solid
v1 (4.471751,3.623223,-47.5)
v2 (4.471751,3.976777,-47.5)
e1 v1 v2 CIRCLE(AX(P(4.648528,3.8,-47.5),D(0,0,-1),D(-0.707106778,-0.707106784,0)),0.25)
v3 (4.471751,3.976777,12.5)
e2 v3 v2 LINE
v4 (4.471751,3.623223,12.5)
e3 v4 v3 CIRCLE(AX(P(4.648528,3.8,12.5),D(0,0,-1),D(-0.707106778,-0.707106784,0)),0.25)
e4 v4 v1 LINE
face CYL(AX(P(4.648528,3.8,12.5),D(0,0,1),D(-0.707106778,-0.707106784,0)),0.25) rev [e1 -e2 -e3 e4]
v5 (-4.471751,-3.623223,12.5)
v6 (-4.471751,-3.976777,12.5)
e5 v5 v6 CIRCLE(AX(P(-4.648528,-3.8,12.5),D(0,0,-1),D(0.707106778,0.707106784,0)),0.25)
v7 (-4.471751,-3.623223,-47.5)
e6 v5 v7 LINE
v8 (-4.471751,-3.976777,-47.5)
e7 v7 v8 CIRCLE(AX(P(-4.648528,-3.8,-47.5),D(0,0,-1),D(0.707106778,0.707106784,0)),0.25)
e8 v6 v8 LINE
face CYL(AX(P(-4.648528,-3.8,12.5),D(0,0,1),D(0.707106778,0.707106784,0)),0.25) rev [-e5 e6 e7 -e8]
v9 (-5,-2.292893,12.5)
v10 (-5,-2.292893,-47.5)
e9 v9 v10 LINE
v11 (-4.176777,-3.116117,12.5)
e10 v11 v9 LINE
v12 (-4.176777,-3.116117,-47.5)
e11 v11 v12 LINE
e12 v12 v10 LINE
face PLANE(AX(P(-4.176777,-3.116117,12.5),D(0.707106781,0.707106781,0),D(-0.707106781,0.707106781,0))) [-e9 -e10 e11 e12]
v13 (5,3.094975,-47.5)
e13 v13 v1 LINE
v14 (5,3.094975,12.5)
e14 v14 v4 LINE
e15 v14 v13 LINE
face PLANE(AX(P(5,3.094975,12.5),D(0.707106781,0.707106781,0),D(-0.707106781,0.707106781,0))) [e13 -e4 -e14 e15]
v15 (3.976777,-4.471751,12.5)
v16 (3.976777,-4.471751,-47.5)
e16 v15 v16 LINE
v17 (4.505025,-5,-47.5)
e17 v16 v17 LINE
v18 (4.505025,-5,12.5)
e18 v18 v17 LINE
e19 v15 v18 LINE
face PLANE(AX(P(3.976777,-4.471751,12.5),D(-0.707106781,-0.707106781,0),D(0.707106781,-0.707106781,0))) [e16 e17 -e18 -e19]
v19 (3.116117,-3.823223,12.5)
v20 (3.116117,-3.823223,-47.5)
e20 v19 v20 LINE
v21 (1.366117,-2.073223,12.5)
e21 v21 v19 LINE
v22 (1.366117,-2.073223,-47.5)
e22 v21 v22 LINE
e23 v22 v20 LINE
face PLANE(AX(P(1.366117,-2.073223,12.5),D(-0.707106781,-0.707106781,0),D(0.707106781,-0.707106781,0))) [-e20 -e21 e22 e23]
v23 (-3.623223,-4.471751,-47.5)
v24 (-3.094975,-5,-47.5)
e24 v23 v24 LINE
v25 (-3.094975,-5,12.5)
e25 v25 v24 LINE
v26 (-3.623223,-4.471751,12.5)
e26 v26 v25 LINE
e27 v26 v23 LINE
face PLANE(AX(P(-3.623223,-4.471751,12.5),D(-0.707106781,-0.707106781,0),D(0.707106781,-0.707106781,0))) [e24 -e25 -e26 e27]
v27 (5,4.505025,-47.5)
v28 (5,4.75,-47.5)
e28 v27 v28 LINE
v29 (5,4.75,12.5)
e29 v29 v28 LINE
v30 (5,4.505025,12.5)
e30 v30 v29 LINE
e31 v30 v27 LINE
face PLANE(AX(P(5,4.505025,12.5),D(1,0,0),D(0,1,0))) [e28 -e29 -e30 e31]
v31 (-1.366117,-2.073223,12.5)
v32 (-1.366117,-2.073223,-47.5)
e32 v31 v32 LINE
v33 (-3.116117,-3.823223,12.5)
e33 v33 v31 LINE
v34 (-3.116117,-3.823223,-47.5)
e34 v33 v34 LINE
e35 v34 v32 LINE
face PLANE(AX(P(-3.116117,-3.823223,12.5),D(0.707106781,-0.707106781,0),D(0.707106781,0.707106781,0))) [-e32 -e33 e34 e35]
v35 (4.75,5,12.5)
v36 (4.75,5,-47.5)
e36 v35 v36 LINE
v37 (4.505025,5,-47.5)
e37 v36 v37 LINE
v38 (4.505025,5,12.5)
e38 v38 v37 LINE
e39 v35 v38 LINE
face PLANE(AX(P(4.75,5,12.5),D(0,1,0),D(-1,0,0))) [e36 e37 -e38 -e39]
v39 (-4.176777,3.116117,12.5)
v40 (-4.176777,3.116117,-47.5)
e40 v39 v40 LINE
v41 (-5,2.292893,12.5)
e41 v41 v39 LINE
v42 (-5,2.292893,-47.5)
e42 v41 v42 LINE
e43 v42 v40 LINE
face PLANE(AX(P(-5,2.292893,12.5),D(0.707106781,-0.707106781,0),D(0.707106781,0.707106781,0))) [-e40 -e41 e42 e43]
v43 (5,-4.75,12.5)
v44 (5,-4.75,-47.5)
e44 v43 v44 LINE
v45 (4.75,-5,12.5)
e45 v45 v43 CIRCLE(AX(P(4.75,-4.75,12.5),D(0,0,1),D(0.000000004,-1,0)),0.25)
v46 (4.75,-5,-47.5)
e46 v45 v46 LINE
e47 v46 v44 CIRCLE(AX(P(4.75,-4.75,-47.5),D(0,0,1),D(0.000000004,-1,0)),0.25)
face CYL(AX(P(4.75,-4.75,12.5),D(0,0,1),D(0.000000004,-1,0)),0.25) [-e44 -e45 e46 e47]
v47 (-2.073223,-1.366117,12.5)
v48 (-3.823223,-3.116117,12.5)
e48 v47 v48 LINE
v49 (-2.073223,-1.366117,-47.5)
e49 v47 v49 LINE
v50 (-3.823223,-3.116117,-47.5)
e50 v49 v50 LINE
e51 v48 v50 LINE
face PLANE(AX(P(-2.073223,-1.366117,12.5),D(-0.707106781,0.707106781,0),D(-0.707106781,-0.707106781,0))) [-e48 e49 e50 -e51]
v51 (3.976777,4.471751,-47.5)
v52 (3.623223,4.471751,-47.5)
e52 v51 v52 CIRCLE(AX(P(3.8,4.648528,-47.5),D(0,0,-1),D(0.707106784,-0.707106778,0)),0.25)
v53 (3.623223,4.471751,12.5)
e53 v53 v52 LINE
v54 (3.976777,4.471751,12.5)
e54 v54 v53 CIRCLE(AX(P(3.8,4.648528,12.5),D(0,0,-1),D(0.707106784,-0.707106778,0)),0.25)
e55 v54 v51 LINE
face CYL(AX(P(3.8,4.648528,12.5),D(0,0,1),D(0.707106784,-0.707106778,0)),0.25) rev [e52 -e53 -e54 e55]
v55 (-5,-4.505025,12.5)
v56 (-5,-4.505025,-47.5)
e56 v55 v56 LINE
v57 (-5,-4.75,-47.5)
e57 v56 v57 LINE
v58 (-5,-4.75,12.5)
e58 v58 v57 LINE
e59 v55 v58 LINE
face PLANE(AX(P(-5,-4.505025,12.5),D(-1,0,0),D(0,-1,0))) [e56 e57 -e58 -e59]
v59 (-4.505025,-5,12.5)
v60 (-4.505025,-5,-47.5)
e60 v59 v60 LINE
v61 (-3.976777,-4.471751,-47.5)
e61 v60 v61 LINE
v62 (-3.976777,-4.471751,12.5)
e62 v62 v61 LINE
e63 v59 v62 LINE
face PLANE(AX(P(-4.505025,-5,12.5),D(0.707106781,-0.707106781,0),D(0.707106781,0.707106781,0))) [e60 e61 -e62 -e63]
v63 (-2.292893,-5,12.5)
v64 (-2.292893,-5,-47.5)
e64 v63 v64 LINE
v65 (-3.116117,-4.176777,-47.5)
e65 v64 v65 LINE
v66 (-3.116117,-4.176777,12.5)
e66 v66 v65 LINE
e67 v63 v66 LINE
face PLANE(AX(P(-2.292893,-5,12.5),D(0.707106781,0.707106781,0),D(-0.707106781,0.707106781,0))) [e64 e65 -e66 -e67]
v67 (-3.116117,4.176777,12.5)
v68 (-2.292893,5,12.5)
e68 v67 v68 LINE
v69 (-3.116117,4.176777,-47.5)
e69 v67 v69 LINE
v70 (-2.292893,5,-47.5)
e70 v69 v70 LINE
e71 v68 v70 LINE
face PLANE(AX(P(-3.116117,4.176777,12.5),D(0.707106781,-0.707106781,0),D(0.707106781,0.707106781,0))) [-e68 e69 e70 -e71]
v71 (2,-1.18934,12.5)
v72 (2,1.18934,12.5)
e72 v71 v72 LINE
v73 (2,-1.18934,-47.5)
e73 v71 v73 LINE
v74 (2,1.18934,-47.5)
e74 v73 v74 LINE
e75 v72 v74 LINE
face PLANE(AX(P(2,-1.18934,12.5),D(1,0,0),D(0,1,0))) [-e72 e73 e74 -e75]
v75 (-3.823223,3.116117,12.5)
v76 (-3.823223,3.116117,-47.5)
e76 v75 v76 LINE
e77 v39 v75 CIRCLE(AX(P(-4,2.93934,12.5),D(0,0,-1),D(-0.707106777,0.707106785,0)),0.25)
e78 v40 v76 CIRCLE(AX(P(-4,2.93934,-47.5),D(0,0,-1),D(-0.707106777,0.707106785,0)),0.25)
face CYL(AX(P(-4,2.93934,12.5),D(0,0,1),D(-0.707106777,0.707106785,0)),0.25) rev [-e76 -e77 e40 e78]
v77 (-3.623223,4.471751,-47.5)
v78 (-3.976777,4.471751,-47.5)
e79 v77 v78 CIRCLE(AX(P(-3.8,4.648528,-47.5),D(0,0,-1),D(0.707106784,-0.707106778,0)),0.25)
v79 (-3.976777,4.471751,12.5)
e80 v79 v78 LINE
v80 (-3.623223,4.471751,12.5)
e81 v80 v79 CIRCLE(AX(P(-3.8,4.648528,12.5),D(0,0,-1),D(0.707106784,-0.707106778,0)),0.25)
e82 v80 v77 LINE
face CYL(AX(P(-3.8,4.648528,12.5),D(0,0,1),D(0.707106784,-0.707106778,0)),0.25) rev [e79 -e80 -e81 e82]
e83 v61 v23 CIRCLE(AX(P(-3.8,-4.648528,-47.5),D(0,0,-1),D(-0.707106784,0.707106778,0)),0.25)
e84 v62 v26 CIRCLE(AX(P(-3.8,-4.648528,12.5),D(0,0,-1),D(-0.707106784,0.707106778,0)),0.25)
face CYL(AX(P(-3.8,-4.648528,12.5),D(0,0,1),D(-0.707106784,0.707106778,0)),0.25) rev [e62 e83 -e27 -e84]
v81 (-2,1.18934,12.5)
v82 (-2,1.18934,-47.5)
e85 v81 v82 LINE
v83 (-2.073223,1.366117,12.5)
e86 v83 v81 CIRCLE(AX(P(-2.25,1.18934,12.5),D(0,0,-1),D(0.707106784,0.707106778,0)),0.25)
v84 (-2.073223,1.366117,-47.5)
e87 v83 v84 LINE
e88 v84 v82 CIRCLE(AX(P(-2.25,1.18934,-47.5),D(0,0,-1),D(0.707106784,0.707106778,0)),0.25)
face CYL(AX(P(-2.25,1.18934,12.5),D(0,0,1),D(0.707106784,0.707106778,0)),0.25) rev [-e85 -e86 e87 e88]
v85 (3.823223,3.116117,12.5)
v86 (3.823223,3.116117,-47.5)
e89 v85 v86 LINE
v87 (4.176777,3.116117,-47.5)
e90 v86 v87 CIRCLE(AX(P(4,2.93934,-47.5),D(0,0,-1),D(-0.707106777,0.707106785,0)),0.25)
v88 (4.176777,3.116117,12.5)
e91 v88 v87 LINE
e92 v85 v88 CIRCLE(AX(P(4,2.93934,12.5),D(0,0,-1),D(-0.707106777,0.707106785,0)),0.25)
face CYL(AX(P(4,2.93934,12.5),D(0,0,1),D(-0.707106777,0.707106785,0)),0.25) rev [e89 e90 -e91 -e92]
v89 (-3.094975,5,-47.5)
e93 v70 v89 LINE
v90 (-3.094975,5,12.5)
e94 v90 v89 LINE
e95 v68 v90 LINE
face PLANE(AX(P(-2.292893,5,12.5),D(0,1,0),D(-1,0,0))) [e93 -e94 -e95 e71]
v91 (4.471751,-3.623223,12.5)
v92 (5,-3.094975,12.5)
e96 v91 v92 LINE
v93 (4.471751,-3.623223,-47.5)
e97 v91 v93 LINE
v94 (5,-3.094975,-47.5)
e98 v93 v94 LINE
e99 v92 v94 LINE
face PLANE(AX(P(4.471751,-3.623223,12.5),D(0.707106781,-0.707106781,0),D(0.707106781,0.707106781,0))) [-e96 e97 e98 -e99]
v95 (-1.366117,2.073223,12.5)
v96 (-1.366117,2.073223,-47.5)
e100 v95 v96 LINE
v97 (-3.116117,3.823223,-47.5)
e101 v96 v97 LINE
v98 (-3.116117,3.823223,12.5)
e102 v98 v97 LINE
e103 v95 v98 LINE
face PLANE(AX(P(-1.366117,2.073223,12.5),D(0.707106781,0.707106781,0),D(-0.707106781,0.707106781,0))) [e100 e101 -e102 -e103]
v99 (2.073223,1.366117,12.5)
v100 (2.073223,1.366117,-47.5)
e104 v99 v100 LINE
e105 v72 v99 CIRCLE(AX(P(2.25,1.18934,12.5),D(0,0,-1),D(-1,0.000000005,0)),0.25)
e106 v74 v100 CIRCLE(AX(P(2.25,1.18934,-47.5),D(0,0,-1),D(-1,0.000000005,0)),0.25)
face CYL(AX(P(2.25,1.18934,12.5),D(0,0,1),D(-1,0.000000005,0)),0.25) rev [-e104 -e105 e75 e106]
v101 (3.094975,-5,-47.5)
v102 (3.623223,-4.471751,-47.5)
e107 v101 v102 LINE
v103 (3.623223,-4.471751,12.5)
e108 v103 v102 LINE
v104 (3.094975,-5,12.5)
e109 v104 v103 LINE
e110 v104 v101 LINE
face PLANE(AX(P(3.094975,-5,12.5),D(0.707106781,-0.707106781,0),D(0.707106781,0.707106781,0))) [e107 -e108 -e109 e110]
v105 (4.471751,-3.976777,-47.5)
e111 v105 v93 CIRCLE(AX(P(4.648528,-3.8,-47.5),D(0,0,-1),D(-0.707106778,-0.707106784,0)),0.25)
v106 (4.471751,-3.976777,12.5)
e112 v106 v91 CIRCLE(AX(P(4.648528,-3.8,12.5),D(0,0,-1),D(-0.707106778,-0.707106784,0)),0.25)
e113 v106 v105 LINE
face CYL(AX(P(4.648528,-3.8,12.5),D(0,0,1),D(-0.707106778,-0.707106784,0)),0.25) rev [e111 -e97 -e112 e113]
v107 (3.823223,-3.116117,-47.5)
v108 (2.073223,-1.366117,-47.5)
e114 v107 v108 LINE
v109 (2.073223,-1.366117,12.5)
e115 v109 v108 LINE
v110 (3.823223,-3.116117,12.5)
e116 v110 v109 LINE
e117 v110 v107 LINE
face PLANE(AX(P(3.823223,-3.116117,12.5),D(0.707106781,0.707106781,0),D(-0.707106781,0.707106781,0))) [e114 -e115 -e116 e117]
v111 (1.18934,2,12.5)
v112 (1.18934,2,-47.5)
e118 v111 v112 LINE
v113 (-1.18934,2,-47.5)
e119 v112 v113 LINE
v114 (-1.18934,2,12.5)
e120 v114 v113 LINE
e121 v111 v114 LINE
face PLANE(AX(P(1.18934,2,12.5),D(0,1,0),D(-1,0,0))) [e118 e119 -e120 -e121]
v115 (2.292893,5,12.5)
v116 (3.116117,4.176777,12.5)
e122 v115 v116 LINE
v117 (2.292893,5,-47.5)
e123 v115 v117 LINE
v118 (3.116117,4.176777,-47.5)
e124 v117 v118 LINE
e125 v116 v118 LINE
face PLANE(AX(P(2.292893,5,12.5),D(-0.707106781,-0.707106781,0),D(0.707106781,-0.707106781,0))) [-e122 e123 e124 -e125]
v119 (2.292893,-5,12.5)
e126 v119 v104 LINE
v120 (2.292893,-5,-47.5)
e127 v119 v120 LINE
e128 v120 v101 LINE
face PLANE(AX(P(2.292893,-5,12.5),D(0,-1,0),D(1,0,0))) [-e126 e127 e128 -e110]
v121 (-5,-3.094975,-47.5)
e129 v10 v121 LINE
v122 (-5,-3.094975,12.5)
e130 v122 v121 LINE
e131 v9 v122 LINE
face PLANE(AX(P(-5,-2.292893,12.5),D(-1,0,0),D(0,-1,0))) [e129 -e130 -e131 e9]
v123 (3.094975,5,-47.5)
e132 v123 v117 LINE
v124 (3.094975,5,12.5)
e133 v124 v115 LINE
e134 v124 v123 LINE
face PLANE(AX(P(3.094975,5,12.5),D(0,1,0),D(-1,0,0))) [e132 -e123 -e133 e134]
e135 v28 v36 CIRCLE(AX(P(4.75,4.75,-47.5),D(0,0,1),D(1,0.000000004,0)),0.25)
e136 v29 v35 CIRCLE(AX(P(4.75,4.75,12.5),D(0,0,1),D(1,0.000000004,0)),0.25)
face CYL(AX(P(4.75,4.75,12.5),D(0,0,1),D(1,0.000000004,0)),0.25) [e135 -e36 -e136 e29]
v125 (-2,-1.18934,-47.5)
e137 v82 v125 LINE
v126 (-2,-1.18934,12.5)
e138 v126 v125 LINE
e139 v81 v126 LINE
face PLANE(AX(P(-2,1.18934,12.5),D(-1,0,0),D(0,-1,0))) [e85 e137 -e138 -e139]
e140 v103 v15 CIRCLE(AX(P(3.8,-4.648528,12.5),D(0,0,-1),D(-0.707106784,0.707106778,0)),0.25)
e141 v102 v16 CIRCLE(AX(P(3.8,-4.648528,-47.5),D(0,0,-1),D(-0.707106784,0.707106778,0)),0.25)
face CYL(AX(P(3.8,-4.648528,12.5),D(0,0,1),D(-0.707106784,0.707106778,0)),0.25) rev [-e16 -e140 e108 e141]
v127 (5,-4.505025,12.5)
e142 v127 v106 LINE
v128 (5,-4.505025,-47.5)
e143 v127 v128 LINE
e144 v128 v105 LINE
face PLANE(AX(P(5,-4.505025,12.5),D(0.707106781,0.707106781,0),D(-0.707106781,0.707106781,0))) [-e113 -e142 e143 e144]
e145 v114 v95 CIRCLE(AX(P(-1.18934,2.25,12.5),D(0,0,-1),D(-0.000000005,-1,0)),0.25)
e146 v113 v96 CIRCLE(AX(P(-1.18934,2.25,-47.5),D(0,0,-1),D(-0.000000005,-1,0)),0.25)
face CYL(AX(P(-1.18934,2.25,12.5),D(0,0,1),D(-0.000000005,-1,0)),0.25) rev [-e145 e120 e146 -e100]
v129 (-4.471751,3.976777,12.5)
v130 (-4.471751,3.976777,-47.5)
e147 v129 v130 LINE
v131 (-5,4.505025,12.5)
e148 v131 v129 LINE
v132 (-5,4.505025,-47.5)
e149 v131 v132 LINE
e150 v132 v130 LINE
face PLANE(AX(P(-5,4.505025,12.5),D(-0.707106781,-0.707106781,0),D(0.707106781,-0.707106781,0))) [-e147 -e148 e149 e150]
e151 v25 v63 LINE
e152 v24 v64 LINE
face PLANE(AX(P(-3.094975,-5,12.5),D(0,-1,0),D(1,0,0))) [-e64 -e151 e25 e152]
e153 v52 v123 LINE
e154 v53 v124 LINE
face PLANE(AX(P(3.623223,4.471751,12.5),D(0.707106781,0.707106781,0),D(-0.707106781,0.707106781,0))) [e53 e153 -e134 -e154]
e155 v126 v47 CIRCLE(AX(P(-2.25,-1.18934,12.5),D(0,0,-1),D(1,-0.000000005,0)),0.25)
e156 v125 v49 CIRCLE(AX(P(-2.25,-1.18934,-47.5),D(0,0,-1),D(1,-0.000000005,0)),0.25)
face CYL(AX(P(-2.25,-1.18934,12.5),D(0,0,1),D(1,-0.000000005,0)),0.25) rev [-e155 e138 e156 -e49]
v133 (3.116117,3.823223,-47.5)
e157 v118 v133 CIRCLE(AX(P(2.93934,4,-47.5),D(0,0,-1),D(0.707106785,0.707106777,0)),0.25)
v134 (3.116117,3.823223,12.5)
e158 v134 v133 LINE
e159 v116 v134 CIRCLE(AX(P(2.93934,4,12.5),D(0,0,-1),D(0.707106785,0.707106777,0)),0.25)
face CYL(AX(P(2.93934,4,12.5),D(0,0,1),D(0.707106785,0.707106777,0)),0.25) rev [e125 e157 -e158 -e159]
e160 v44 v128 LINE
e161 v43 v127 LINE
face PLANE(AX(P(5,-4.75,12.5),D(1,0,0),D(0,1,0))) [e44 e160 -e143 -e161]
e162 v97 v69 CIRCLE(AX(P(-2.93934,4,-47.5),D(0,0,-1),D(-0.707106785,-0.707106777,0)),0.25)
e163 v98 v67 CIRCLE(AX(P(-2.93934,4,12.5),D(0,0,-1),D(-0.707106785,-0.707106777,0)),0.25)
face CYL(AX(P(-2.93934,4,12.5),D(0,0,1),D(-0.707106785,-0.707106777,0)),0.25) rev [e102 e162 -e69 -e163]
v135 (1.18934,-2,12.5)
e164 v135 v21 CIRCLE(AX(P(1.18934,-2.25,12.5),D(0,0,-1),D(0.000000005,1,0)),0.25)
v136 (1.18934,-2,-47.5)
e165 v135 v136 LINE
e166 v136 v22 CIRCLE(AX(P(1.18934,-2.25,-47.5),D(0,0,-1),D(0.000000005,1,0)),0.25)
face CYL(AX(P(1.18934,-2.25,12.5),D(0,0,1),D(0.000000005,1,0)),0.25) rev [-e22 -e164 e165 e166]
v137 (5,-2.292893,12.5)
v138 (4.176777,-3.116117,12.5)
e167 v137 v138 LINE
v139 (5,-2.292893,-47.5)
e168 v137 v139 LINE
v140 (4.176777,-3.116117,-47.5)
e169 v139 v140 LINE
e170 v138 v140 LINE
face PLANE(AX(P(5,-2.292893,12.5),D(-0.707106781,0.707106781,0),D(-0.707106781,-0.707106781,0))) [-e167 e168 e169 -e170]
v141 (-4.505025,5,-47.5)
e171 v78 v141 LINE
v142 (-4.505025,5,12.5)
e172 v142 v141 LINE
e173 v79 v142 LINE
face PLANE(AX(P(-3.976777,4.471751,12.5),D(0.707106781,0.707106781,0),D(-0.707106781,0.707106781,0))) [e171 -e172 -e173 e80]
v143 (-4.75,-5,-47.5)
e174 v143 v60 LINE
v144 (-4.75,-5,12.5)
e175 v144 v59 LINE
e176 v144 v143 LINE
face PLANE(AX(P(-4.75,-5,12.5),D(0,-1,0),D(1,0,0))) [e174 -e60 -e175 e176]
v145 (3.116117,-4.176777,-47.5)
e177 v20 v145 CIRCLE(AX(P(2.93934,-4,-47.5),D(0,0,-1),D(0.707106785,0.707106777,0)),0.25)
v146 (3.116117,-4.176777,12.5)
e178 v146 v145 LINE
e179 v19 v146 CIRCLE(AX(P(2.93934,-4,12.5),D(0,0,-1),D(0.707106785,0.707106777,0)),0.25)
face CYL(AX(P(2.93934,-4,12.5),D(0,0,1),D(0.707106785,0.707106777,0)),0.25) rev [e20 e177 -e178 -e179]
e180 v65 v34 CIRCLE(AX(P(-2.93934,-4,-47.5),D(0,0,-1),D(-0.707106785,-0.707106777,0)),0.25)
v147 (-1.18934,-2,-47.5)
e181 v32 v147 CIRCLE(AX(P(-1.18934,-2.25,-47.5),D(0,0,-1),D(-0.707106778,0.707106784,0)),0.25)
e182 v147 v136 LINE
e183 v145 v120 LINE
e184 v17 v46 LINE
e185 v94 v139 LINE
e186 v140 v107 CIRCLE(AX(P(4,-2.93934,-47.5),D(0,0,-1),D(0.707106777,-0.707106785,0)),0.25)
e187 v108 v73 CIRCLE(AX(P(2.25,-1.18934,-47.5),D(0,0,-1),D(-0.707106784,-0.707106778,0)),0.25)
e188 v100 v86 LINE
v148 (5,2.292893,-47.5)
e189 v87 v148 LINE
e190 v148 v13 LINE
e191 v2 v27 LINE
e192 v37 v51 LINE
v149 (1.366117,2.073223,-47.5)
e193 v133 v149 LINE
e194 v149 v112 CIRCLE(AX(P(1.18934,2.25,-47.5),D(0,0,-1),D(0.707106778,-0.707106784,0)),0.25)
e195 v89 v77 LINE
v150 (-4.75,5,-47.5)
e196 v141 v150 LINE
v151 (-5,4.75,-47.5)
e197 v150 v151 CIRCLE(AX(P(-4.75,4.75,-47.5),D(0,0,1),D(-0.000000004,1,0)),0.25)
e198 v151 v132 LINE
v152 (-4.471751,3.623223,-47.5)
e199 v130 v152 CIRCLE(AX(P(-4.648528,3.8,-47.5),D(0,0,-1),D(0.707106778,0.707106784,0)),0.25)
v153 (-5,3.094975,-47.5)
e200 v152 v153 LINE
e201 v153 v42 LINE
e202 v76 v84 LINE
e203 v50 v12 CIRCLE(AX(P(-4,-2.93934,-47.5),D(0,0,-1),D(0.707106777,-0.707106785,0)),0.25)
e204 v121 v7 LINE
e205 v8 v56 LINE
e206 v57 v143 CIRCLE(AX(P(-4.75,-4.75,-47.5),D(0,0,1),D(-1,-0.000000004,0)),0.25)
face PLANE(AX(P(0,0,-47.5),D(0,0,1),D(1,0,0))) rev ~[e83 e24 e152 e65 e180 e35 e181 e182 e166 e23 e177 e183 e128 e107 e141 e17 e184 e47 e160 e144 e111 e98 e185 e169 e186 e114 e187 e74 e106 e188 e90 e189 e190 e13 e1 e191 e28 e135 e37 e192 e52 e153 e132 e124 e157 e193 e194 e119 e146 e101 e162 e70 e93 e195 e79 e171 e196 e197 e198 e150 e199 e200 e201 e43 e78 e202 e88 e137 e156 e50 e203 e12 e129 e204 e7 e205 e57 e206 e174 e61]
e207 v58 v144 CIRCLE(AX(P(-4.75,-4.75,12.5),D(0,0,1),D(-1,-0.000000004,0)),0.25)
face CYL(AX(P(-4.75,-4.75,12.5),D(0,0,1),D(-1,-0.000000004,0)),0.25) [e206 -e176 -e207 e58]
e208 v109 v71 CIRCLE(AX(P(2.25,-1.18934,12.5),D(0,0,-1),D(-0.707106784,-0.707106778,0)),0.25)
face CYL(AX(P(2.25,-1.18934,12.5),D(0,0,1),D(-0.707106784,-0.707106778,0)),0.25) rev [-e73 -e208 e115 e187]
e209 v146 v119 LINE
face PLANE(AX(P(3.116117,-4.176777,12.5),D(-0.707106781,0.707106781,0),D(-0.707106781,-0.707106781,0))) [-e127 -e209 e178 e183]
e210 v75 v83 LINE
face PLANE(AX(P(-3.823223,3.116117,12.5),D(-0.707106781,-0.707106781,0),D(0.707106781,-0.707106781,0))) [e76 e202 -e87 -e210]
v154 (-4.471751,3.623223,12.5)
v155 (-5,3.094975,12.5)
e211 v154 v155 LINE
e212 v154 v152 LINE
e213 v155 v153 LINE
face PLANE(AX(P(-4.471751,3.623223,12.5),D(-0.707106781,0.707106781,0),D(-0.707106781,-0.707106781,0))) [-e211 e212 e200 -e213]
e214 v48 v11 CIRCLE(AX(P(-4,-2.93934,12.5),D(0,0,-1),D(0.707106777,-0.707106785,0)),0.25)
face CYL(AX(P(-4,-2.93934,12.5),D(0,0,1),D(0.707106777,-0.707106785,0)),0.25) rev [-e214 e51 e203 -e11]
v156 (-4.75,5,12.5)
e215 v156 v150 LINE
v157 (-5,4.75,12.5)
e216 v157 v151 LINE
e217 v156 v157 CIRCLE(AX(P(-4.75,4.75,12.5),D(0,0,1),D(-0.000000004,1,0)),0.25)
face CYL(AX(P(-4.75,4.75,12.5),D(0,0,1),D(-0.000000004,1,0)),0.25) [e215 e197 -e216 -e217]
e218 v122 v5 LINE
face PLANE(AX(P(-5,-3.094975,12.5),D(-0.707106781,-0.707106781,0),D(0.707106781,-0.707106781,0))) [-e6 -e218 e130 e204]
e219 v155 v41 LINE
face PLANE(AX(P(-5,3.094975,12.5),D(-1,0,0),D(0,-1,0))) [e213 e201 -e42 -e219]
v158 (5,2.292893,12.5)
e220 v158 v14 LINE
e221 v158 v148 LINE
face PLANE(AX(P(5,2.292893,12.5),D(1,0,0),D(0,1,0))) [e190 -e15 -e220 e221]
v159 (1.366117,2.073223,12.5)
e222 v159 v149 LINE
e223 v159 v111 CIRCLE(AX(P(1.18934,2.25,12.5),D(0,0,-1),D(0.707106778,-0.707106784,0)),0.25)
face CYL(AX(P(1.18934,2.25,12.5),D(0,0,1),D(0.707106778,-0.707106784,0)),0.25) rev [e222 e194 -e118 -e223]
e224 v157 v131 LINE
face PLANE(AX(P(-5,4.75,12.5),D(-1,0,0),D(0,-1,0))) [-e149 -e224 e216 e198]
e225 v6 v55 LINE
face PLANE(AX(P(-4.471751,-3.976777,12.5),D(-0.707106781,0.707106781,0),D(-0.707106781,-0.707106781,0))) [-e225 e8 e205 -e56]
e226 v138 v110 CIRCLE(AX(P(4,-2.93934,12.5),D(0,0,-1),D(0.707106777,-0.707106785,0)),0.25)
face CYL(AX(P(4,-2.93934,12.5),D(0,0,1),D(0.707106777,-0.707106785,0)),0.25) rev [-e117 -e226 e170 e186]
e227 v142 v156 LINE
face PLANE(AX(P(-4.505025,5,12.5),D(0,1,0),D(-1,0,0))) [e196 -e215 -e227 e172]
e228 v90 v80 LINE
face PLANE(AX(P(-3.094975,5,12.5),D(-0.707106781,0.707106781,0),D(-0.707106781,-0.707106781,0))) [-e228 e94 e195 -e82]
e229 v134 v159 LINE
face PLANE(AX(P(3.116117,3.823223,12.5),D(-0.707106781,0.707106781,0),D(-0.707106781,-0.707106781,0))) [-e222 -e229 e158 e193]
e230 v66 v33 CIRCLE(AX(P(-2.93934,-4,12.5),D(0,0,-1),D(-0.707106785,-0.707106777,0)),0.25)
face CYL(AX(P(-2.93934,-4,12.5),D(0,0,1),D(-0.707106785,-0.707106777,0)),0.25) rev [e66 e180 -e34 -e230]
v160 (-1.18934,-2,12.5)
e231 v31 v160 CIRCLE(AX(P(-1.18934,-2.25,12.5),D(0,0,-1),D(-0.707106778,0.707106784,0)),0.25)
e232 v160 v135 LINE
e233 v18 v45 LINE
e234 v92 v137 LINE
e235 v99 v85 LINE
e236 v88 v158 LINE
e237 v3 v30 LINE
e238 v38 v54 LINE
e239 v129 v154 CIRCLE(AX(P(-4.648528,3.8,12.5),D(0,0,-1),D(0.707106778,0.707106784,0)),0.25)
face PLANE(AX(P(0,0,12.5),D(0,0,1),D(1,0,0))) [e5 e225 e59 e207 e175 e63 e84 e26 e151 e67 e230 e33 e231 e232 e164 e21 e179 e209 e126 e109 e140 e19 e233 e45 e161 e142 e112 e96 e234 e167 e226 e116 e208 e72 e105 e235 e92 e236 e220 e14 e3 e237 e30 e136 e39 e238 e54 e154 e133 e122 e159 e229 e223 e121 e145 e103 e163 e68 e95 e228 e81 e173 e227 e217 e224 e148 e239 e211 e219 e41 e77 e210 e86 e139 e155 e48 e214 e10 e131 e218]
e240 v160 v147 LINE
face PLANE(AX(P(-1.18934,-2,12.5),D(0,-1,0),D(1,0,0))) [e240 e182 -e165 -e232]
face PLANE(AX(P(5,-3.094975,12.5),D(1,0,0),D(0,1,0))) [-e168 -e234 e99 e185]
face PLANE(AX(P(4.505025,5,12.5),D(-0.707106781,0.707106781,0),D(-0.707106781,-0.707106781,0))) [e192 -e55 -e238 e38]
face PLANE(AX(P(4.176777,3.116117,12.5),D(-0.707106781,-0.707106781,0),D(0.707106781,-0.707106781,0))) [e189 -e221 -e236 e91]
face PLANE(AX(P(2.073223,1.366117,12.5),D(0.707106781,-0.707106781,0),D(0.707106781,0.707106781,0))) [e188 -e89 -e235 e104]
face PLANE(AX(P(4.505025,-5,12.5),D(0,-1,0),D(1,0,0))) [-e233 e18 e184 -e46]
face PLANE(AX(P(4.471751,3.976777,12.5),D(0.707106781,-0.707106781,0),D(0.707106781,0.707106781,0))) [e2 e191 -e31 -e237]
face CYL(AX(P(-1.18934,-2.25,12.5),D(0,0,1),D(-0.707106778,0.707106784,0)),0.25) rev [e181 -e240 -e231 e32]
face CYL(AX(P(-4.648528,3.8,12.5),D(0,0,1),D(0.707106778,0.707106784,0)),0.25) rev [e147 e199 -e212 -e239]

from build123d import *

# Parameters (mm, degrees)
BOSS_EXTRUDE1_DEPTH = 60


with BuildPart() as part:
    # Sketch1 → Boss-Extrude1 (new body)
    with BuildSketch(Plane.XY.offset(12.5)):
        with BuildLine():
            Line((1.189339828, 2), (-1.189339828, 2))
            ThreePointArc((-1.189339828, 2), (-1.285010686, 2.019030117), (-1.366116524, 2.073223305))
            Line((-1.366116524, 2.073223305), (-3.116116524, 3.823223305))
            ThreePointArc((-3.116116524, 3.823223305), (-3.189339828, 4), (-3.116116524, 4.176776695))
            Line((-3.116116524, 4.176776695), (-2.292893219, 5))
            Line((-2.292893219, 5), (-3.094974747, 5))
            Line((-3.094974747, 5), (-3.623223305, 4.471751442))
            ThreePointArc((-3.623223305, 4.471751442), (-3.8, 4.398528137), (-3.976776695, 4.471751442))
            Line((-3.976776695, 4.471751442), (-4.505025253, 5))
            Line((-4.505025253, 5), (-4.75, 5))
            ThreePointArc((-4.75, 5), (-4.926776695, 4.926776695), (-5, 4.75))
            Line((-5, 4.75), (-5, 4.505025253))
            Line((-5, 4.505025253), (-4.471751442, 3.976776695))
            ThreePointArc((-4.471751442, 3.976776695), (-4.398528137, 3.8), (-4.471751442, 3.623223305))
            Line((-4.471751442, 3.623223305), (-5, 3.094974747))
            Line((-5, 3.094974747), (-5, 2.292893219))
            Line((-5, 2.292893219), (-4.176776695, 3.116116524))
            ThreePointArc((-4.176776695, 3.116116524), (-4, 3.189339828), (-3.823223305, 3.116116524))
            Line((-3.823223305, 3.116116524), (-2.073223305, 1.366116524))
            ThreePointArc((-2.073223305, 1.366116524), (-2.019030117, 1.285010686), (-2, 1.189339828))
            Line((-2, 1.189339828), (-2, -1.189339828))
            ThreePointArc((-2, -1.189339828), (-2.019030117, -1.285010686), (-2.073223305, -1.366116524))
            Line((-2.073223305, -1.366116524), (-3.823223305, -3.116116524))
            ThreePointArc((-3.823223305, -3.116116524), (-4, -3.189339828), (-4.176776695, -3.116116524))
            Line((-4.176776695, -3.116116524), (-5, -2.292893219))
            Line((-5, -2.292893219), (-5, -3.094974747))
            Line((-5, -3.094974747), (-4.471751442, -3.623223305))
            ThreePointArc((-4.471751442, -3.623223305), (-4.398528137, -3.8), (-4.471751442, -3.976776695))
            Line((-4.471751442, -3.976776695), (-5, -4.505025253))
            Line((-5, -4.505025253), (-5, -4.75))
            ThreePointArc((-5, -4.75), (-4.926776695, -4.926776695), (-4.75, -5))
            Line((-4.75, -5), (-4.505025253, -5))
            Line((-4.505025253, -5), (-3.976776695, -4.471751442))
            ThreePointArc((-3.976776695, -4.471751442), (-3.8, -4.398528137), (-3.623223305, -4.471751442))
            Line((-3.623223305, -4.471751442), (-3.094974747, -5))
            Line((-3.094974747, -5), (-2.292893219, -5))
            Line((-2.292893219, -5), (-3.116116524, -4.176776695))
            ThreePointArc((-3.116116524, -4.176776695), (-3.189339828, -4), (-3.116116524, -3.823223305))
            Line((-3.116116524, -3.823223305), (-1.366116524, -2.073223305))
            ThreePointArc((-1.366116524, -2.073223305), (-1.285010686, -2.019030117), (-1.189339828, -2))
            Line((-1.189339828, -2), (1.189339828, -2))
            ThreePointArc((1.189339828, -2), (1.285010686, -2.019030117), (1.366116524, -2.073223305))
            Line((1.366116524, -2.073223305), (3.116116524, -3.823223305))
            ThreePointArc((3.116116524, -3.823223305), (3.189339828, -4), (3.116116524, -4.176776695))
            Line((3.116116524, -4.176776695), (2.292893219, -5))
            Line((2.292893219, -5), (3.094974747, -5))
            Line((3.094974747, -5), (3.623223305, -4.471751442))
            ThreePointArc((3.623223305, -4.471751442), (3.8, -4.398528137), (3.976776695, -4.471751442))
            Line((3.976776695, -4.471751442), (4.505025253, -5))
            Line((4.505025253, -5), (4.75, -5))
            ThreePointArc((4.75, -5), (4.926776695, -4.926776695), (5, -4.75))
            Line((5, -4.75), (5, -4.505025253))
            Line((5, -4.505025253), (4.471751442, -3.976776695))
            ThreePointArc((4.471751442, -3.976776695), (4.398528137, -3.8), (4.471751442, -3.623223305))
            Line((4.471751442, -3.623223305), (5, -3.094974747))
            Line((5, -3.094974747), (5, -2.292893219))
            Line((5, -2.292893219), (4.176776695, -3.116116524))
            ThreePointArc((4.176776695, -3.116116524), (4, -3.189339828), (3.823223305, -3.116116524))
            Line((3.823223305, -3.116116524), (2.073223305, -1.366116524))
            ThreePointArc((2.073223305, -1.366116524), (2.019030117, -1.285010686), (2, -1.189339828))
            Line((2, -1.189339828), (2, 1.189339828))
            ThreePointArc((2, 1.189339828), (2.019030117, 1.285010686), (2.073223305, 1.366116524))
            Line((2.073223305, 1.366116524), (3.823223305, 3.116116524))
            ThreePointArc((3.823223305, 3.116116524), (4, 3.189339828), (4.176776695, 3.116116524))
            Line((4.176776695, 3.116116524), (5, 2.292893219))
            Line((5, 2.292893219), (5, 3.094974747))
            Line((5, 3.094974747), (4.471751442, 3.623223305))
            ThreePointArc((4.471751442, 3.623223305), (4.398528137, 3.8), (4.471751442, 3.976776695))
            Line((4.471751442, 3.976776695), (5, 4.505025253))
            Line((5, 4.505025253), (5, 4.75))
            ThreePointArc((5, 4.75), (4.926776695, 4.926776695), (4.75, 5))
            Line((4.75, 5), (4.505025253, 5))
            Line((4.505025253, 5), (3.976776695, 4.471751442))
            ThreePointArc((3.976776695, 4.471751442), (3.8, 4.398528137), (3.623223305, 4.471751442))
            Line((3.623223305, 4.471751442), (3.094974747, 5))
            Line((3.094974747, 5), (2.292893219, 5))
            Line((2.292893219, 5), (3.116116524, 4.176776695))
            ThreePointArc((3.116116524, 4.176776695), (3.189339828, 4), (3.116116524, 3.823223305))
            Line((3.116116524, 3.823223305), (1.366116524, 2.073223305))
            ThreePointArc((1.366116524, 2.073223305), (1.285010686, 2.019030117), (1.189339828, 2))
        make_face()
    extrude(amount=-BOSS_EXTRUDE1_DEPTH)


solid = part.part
